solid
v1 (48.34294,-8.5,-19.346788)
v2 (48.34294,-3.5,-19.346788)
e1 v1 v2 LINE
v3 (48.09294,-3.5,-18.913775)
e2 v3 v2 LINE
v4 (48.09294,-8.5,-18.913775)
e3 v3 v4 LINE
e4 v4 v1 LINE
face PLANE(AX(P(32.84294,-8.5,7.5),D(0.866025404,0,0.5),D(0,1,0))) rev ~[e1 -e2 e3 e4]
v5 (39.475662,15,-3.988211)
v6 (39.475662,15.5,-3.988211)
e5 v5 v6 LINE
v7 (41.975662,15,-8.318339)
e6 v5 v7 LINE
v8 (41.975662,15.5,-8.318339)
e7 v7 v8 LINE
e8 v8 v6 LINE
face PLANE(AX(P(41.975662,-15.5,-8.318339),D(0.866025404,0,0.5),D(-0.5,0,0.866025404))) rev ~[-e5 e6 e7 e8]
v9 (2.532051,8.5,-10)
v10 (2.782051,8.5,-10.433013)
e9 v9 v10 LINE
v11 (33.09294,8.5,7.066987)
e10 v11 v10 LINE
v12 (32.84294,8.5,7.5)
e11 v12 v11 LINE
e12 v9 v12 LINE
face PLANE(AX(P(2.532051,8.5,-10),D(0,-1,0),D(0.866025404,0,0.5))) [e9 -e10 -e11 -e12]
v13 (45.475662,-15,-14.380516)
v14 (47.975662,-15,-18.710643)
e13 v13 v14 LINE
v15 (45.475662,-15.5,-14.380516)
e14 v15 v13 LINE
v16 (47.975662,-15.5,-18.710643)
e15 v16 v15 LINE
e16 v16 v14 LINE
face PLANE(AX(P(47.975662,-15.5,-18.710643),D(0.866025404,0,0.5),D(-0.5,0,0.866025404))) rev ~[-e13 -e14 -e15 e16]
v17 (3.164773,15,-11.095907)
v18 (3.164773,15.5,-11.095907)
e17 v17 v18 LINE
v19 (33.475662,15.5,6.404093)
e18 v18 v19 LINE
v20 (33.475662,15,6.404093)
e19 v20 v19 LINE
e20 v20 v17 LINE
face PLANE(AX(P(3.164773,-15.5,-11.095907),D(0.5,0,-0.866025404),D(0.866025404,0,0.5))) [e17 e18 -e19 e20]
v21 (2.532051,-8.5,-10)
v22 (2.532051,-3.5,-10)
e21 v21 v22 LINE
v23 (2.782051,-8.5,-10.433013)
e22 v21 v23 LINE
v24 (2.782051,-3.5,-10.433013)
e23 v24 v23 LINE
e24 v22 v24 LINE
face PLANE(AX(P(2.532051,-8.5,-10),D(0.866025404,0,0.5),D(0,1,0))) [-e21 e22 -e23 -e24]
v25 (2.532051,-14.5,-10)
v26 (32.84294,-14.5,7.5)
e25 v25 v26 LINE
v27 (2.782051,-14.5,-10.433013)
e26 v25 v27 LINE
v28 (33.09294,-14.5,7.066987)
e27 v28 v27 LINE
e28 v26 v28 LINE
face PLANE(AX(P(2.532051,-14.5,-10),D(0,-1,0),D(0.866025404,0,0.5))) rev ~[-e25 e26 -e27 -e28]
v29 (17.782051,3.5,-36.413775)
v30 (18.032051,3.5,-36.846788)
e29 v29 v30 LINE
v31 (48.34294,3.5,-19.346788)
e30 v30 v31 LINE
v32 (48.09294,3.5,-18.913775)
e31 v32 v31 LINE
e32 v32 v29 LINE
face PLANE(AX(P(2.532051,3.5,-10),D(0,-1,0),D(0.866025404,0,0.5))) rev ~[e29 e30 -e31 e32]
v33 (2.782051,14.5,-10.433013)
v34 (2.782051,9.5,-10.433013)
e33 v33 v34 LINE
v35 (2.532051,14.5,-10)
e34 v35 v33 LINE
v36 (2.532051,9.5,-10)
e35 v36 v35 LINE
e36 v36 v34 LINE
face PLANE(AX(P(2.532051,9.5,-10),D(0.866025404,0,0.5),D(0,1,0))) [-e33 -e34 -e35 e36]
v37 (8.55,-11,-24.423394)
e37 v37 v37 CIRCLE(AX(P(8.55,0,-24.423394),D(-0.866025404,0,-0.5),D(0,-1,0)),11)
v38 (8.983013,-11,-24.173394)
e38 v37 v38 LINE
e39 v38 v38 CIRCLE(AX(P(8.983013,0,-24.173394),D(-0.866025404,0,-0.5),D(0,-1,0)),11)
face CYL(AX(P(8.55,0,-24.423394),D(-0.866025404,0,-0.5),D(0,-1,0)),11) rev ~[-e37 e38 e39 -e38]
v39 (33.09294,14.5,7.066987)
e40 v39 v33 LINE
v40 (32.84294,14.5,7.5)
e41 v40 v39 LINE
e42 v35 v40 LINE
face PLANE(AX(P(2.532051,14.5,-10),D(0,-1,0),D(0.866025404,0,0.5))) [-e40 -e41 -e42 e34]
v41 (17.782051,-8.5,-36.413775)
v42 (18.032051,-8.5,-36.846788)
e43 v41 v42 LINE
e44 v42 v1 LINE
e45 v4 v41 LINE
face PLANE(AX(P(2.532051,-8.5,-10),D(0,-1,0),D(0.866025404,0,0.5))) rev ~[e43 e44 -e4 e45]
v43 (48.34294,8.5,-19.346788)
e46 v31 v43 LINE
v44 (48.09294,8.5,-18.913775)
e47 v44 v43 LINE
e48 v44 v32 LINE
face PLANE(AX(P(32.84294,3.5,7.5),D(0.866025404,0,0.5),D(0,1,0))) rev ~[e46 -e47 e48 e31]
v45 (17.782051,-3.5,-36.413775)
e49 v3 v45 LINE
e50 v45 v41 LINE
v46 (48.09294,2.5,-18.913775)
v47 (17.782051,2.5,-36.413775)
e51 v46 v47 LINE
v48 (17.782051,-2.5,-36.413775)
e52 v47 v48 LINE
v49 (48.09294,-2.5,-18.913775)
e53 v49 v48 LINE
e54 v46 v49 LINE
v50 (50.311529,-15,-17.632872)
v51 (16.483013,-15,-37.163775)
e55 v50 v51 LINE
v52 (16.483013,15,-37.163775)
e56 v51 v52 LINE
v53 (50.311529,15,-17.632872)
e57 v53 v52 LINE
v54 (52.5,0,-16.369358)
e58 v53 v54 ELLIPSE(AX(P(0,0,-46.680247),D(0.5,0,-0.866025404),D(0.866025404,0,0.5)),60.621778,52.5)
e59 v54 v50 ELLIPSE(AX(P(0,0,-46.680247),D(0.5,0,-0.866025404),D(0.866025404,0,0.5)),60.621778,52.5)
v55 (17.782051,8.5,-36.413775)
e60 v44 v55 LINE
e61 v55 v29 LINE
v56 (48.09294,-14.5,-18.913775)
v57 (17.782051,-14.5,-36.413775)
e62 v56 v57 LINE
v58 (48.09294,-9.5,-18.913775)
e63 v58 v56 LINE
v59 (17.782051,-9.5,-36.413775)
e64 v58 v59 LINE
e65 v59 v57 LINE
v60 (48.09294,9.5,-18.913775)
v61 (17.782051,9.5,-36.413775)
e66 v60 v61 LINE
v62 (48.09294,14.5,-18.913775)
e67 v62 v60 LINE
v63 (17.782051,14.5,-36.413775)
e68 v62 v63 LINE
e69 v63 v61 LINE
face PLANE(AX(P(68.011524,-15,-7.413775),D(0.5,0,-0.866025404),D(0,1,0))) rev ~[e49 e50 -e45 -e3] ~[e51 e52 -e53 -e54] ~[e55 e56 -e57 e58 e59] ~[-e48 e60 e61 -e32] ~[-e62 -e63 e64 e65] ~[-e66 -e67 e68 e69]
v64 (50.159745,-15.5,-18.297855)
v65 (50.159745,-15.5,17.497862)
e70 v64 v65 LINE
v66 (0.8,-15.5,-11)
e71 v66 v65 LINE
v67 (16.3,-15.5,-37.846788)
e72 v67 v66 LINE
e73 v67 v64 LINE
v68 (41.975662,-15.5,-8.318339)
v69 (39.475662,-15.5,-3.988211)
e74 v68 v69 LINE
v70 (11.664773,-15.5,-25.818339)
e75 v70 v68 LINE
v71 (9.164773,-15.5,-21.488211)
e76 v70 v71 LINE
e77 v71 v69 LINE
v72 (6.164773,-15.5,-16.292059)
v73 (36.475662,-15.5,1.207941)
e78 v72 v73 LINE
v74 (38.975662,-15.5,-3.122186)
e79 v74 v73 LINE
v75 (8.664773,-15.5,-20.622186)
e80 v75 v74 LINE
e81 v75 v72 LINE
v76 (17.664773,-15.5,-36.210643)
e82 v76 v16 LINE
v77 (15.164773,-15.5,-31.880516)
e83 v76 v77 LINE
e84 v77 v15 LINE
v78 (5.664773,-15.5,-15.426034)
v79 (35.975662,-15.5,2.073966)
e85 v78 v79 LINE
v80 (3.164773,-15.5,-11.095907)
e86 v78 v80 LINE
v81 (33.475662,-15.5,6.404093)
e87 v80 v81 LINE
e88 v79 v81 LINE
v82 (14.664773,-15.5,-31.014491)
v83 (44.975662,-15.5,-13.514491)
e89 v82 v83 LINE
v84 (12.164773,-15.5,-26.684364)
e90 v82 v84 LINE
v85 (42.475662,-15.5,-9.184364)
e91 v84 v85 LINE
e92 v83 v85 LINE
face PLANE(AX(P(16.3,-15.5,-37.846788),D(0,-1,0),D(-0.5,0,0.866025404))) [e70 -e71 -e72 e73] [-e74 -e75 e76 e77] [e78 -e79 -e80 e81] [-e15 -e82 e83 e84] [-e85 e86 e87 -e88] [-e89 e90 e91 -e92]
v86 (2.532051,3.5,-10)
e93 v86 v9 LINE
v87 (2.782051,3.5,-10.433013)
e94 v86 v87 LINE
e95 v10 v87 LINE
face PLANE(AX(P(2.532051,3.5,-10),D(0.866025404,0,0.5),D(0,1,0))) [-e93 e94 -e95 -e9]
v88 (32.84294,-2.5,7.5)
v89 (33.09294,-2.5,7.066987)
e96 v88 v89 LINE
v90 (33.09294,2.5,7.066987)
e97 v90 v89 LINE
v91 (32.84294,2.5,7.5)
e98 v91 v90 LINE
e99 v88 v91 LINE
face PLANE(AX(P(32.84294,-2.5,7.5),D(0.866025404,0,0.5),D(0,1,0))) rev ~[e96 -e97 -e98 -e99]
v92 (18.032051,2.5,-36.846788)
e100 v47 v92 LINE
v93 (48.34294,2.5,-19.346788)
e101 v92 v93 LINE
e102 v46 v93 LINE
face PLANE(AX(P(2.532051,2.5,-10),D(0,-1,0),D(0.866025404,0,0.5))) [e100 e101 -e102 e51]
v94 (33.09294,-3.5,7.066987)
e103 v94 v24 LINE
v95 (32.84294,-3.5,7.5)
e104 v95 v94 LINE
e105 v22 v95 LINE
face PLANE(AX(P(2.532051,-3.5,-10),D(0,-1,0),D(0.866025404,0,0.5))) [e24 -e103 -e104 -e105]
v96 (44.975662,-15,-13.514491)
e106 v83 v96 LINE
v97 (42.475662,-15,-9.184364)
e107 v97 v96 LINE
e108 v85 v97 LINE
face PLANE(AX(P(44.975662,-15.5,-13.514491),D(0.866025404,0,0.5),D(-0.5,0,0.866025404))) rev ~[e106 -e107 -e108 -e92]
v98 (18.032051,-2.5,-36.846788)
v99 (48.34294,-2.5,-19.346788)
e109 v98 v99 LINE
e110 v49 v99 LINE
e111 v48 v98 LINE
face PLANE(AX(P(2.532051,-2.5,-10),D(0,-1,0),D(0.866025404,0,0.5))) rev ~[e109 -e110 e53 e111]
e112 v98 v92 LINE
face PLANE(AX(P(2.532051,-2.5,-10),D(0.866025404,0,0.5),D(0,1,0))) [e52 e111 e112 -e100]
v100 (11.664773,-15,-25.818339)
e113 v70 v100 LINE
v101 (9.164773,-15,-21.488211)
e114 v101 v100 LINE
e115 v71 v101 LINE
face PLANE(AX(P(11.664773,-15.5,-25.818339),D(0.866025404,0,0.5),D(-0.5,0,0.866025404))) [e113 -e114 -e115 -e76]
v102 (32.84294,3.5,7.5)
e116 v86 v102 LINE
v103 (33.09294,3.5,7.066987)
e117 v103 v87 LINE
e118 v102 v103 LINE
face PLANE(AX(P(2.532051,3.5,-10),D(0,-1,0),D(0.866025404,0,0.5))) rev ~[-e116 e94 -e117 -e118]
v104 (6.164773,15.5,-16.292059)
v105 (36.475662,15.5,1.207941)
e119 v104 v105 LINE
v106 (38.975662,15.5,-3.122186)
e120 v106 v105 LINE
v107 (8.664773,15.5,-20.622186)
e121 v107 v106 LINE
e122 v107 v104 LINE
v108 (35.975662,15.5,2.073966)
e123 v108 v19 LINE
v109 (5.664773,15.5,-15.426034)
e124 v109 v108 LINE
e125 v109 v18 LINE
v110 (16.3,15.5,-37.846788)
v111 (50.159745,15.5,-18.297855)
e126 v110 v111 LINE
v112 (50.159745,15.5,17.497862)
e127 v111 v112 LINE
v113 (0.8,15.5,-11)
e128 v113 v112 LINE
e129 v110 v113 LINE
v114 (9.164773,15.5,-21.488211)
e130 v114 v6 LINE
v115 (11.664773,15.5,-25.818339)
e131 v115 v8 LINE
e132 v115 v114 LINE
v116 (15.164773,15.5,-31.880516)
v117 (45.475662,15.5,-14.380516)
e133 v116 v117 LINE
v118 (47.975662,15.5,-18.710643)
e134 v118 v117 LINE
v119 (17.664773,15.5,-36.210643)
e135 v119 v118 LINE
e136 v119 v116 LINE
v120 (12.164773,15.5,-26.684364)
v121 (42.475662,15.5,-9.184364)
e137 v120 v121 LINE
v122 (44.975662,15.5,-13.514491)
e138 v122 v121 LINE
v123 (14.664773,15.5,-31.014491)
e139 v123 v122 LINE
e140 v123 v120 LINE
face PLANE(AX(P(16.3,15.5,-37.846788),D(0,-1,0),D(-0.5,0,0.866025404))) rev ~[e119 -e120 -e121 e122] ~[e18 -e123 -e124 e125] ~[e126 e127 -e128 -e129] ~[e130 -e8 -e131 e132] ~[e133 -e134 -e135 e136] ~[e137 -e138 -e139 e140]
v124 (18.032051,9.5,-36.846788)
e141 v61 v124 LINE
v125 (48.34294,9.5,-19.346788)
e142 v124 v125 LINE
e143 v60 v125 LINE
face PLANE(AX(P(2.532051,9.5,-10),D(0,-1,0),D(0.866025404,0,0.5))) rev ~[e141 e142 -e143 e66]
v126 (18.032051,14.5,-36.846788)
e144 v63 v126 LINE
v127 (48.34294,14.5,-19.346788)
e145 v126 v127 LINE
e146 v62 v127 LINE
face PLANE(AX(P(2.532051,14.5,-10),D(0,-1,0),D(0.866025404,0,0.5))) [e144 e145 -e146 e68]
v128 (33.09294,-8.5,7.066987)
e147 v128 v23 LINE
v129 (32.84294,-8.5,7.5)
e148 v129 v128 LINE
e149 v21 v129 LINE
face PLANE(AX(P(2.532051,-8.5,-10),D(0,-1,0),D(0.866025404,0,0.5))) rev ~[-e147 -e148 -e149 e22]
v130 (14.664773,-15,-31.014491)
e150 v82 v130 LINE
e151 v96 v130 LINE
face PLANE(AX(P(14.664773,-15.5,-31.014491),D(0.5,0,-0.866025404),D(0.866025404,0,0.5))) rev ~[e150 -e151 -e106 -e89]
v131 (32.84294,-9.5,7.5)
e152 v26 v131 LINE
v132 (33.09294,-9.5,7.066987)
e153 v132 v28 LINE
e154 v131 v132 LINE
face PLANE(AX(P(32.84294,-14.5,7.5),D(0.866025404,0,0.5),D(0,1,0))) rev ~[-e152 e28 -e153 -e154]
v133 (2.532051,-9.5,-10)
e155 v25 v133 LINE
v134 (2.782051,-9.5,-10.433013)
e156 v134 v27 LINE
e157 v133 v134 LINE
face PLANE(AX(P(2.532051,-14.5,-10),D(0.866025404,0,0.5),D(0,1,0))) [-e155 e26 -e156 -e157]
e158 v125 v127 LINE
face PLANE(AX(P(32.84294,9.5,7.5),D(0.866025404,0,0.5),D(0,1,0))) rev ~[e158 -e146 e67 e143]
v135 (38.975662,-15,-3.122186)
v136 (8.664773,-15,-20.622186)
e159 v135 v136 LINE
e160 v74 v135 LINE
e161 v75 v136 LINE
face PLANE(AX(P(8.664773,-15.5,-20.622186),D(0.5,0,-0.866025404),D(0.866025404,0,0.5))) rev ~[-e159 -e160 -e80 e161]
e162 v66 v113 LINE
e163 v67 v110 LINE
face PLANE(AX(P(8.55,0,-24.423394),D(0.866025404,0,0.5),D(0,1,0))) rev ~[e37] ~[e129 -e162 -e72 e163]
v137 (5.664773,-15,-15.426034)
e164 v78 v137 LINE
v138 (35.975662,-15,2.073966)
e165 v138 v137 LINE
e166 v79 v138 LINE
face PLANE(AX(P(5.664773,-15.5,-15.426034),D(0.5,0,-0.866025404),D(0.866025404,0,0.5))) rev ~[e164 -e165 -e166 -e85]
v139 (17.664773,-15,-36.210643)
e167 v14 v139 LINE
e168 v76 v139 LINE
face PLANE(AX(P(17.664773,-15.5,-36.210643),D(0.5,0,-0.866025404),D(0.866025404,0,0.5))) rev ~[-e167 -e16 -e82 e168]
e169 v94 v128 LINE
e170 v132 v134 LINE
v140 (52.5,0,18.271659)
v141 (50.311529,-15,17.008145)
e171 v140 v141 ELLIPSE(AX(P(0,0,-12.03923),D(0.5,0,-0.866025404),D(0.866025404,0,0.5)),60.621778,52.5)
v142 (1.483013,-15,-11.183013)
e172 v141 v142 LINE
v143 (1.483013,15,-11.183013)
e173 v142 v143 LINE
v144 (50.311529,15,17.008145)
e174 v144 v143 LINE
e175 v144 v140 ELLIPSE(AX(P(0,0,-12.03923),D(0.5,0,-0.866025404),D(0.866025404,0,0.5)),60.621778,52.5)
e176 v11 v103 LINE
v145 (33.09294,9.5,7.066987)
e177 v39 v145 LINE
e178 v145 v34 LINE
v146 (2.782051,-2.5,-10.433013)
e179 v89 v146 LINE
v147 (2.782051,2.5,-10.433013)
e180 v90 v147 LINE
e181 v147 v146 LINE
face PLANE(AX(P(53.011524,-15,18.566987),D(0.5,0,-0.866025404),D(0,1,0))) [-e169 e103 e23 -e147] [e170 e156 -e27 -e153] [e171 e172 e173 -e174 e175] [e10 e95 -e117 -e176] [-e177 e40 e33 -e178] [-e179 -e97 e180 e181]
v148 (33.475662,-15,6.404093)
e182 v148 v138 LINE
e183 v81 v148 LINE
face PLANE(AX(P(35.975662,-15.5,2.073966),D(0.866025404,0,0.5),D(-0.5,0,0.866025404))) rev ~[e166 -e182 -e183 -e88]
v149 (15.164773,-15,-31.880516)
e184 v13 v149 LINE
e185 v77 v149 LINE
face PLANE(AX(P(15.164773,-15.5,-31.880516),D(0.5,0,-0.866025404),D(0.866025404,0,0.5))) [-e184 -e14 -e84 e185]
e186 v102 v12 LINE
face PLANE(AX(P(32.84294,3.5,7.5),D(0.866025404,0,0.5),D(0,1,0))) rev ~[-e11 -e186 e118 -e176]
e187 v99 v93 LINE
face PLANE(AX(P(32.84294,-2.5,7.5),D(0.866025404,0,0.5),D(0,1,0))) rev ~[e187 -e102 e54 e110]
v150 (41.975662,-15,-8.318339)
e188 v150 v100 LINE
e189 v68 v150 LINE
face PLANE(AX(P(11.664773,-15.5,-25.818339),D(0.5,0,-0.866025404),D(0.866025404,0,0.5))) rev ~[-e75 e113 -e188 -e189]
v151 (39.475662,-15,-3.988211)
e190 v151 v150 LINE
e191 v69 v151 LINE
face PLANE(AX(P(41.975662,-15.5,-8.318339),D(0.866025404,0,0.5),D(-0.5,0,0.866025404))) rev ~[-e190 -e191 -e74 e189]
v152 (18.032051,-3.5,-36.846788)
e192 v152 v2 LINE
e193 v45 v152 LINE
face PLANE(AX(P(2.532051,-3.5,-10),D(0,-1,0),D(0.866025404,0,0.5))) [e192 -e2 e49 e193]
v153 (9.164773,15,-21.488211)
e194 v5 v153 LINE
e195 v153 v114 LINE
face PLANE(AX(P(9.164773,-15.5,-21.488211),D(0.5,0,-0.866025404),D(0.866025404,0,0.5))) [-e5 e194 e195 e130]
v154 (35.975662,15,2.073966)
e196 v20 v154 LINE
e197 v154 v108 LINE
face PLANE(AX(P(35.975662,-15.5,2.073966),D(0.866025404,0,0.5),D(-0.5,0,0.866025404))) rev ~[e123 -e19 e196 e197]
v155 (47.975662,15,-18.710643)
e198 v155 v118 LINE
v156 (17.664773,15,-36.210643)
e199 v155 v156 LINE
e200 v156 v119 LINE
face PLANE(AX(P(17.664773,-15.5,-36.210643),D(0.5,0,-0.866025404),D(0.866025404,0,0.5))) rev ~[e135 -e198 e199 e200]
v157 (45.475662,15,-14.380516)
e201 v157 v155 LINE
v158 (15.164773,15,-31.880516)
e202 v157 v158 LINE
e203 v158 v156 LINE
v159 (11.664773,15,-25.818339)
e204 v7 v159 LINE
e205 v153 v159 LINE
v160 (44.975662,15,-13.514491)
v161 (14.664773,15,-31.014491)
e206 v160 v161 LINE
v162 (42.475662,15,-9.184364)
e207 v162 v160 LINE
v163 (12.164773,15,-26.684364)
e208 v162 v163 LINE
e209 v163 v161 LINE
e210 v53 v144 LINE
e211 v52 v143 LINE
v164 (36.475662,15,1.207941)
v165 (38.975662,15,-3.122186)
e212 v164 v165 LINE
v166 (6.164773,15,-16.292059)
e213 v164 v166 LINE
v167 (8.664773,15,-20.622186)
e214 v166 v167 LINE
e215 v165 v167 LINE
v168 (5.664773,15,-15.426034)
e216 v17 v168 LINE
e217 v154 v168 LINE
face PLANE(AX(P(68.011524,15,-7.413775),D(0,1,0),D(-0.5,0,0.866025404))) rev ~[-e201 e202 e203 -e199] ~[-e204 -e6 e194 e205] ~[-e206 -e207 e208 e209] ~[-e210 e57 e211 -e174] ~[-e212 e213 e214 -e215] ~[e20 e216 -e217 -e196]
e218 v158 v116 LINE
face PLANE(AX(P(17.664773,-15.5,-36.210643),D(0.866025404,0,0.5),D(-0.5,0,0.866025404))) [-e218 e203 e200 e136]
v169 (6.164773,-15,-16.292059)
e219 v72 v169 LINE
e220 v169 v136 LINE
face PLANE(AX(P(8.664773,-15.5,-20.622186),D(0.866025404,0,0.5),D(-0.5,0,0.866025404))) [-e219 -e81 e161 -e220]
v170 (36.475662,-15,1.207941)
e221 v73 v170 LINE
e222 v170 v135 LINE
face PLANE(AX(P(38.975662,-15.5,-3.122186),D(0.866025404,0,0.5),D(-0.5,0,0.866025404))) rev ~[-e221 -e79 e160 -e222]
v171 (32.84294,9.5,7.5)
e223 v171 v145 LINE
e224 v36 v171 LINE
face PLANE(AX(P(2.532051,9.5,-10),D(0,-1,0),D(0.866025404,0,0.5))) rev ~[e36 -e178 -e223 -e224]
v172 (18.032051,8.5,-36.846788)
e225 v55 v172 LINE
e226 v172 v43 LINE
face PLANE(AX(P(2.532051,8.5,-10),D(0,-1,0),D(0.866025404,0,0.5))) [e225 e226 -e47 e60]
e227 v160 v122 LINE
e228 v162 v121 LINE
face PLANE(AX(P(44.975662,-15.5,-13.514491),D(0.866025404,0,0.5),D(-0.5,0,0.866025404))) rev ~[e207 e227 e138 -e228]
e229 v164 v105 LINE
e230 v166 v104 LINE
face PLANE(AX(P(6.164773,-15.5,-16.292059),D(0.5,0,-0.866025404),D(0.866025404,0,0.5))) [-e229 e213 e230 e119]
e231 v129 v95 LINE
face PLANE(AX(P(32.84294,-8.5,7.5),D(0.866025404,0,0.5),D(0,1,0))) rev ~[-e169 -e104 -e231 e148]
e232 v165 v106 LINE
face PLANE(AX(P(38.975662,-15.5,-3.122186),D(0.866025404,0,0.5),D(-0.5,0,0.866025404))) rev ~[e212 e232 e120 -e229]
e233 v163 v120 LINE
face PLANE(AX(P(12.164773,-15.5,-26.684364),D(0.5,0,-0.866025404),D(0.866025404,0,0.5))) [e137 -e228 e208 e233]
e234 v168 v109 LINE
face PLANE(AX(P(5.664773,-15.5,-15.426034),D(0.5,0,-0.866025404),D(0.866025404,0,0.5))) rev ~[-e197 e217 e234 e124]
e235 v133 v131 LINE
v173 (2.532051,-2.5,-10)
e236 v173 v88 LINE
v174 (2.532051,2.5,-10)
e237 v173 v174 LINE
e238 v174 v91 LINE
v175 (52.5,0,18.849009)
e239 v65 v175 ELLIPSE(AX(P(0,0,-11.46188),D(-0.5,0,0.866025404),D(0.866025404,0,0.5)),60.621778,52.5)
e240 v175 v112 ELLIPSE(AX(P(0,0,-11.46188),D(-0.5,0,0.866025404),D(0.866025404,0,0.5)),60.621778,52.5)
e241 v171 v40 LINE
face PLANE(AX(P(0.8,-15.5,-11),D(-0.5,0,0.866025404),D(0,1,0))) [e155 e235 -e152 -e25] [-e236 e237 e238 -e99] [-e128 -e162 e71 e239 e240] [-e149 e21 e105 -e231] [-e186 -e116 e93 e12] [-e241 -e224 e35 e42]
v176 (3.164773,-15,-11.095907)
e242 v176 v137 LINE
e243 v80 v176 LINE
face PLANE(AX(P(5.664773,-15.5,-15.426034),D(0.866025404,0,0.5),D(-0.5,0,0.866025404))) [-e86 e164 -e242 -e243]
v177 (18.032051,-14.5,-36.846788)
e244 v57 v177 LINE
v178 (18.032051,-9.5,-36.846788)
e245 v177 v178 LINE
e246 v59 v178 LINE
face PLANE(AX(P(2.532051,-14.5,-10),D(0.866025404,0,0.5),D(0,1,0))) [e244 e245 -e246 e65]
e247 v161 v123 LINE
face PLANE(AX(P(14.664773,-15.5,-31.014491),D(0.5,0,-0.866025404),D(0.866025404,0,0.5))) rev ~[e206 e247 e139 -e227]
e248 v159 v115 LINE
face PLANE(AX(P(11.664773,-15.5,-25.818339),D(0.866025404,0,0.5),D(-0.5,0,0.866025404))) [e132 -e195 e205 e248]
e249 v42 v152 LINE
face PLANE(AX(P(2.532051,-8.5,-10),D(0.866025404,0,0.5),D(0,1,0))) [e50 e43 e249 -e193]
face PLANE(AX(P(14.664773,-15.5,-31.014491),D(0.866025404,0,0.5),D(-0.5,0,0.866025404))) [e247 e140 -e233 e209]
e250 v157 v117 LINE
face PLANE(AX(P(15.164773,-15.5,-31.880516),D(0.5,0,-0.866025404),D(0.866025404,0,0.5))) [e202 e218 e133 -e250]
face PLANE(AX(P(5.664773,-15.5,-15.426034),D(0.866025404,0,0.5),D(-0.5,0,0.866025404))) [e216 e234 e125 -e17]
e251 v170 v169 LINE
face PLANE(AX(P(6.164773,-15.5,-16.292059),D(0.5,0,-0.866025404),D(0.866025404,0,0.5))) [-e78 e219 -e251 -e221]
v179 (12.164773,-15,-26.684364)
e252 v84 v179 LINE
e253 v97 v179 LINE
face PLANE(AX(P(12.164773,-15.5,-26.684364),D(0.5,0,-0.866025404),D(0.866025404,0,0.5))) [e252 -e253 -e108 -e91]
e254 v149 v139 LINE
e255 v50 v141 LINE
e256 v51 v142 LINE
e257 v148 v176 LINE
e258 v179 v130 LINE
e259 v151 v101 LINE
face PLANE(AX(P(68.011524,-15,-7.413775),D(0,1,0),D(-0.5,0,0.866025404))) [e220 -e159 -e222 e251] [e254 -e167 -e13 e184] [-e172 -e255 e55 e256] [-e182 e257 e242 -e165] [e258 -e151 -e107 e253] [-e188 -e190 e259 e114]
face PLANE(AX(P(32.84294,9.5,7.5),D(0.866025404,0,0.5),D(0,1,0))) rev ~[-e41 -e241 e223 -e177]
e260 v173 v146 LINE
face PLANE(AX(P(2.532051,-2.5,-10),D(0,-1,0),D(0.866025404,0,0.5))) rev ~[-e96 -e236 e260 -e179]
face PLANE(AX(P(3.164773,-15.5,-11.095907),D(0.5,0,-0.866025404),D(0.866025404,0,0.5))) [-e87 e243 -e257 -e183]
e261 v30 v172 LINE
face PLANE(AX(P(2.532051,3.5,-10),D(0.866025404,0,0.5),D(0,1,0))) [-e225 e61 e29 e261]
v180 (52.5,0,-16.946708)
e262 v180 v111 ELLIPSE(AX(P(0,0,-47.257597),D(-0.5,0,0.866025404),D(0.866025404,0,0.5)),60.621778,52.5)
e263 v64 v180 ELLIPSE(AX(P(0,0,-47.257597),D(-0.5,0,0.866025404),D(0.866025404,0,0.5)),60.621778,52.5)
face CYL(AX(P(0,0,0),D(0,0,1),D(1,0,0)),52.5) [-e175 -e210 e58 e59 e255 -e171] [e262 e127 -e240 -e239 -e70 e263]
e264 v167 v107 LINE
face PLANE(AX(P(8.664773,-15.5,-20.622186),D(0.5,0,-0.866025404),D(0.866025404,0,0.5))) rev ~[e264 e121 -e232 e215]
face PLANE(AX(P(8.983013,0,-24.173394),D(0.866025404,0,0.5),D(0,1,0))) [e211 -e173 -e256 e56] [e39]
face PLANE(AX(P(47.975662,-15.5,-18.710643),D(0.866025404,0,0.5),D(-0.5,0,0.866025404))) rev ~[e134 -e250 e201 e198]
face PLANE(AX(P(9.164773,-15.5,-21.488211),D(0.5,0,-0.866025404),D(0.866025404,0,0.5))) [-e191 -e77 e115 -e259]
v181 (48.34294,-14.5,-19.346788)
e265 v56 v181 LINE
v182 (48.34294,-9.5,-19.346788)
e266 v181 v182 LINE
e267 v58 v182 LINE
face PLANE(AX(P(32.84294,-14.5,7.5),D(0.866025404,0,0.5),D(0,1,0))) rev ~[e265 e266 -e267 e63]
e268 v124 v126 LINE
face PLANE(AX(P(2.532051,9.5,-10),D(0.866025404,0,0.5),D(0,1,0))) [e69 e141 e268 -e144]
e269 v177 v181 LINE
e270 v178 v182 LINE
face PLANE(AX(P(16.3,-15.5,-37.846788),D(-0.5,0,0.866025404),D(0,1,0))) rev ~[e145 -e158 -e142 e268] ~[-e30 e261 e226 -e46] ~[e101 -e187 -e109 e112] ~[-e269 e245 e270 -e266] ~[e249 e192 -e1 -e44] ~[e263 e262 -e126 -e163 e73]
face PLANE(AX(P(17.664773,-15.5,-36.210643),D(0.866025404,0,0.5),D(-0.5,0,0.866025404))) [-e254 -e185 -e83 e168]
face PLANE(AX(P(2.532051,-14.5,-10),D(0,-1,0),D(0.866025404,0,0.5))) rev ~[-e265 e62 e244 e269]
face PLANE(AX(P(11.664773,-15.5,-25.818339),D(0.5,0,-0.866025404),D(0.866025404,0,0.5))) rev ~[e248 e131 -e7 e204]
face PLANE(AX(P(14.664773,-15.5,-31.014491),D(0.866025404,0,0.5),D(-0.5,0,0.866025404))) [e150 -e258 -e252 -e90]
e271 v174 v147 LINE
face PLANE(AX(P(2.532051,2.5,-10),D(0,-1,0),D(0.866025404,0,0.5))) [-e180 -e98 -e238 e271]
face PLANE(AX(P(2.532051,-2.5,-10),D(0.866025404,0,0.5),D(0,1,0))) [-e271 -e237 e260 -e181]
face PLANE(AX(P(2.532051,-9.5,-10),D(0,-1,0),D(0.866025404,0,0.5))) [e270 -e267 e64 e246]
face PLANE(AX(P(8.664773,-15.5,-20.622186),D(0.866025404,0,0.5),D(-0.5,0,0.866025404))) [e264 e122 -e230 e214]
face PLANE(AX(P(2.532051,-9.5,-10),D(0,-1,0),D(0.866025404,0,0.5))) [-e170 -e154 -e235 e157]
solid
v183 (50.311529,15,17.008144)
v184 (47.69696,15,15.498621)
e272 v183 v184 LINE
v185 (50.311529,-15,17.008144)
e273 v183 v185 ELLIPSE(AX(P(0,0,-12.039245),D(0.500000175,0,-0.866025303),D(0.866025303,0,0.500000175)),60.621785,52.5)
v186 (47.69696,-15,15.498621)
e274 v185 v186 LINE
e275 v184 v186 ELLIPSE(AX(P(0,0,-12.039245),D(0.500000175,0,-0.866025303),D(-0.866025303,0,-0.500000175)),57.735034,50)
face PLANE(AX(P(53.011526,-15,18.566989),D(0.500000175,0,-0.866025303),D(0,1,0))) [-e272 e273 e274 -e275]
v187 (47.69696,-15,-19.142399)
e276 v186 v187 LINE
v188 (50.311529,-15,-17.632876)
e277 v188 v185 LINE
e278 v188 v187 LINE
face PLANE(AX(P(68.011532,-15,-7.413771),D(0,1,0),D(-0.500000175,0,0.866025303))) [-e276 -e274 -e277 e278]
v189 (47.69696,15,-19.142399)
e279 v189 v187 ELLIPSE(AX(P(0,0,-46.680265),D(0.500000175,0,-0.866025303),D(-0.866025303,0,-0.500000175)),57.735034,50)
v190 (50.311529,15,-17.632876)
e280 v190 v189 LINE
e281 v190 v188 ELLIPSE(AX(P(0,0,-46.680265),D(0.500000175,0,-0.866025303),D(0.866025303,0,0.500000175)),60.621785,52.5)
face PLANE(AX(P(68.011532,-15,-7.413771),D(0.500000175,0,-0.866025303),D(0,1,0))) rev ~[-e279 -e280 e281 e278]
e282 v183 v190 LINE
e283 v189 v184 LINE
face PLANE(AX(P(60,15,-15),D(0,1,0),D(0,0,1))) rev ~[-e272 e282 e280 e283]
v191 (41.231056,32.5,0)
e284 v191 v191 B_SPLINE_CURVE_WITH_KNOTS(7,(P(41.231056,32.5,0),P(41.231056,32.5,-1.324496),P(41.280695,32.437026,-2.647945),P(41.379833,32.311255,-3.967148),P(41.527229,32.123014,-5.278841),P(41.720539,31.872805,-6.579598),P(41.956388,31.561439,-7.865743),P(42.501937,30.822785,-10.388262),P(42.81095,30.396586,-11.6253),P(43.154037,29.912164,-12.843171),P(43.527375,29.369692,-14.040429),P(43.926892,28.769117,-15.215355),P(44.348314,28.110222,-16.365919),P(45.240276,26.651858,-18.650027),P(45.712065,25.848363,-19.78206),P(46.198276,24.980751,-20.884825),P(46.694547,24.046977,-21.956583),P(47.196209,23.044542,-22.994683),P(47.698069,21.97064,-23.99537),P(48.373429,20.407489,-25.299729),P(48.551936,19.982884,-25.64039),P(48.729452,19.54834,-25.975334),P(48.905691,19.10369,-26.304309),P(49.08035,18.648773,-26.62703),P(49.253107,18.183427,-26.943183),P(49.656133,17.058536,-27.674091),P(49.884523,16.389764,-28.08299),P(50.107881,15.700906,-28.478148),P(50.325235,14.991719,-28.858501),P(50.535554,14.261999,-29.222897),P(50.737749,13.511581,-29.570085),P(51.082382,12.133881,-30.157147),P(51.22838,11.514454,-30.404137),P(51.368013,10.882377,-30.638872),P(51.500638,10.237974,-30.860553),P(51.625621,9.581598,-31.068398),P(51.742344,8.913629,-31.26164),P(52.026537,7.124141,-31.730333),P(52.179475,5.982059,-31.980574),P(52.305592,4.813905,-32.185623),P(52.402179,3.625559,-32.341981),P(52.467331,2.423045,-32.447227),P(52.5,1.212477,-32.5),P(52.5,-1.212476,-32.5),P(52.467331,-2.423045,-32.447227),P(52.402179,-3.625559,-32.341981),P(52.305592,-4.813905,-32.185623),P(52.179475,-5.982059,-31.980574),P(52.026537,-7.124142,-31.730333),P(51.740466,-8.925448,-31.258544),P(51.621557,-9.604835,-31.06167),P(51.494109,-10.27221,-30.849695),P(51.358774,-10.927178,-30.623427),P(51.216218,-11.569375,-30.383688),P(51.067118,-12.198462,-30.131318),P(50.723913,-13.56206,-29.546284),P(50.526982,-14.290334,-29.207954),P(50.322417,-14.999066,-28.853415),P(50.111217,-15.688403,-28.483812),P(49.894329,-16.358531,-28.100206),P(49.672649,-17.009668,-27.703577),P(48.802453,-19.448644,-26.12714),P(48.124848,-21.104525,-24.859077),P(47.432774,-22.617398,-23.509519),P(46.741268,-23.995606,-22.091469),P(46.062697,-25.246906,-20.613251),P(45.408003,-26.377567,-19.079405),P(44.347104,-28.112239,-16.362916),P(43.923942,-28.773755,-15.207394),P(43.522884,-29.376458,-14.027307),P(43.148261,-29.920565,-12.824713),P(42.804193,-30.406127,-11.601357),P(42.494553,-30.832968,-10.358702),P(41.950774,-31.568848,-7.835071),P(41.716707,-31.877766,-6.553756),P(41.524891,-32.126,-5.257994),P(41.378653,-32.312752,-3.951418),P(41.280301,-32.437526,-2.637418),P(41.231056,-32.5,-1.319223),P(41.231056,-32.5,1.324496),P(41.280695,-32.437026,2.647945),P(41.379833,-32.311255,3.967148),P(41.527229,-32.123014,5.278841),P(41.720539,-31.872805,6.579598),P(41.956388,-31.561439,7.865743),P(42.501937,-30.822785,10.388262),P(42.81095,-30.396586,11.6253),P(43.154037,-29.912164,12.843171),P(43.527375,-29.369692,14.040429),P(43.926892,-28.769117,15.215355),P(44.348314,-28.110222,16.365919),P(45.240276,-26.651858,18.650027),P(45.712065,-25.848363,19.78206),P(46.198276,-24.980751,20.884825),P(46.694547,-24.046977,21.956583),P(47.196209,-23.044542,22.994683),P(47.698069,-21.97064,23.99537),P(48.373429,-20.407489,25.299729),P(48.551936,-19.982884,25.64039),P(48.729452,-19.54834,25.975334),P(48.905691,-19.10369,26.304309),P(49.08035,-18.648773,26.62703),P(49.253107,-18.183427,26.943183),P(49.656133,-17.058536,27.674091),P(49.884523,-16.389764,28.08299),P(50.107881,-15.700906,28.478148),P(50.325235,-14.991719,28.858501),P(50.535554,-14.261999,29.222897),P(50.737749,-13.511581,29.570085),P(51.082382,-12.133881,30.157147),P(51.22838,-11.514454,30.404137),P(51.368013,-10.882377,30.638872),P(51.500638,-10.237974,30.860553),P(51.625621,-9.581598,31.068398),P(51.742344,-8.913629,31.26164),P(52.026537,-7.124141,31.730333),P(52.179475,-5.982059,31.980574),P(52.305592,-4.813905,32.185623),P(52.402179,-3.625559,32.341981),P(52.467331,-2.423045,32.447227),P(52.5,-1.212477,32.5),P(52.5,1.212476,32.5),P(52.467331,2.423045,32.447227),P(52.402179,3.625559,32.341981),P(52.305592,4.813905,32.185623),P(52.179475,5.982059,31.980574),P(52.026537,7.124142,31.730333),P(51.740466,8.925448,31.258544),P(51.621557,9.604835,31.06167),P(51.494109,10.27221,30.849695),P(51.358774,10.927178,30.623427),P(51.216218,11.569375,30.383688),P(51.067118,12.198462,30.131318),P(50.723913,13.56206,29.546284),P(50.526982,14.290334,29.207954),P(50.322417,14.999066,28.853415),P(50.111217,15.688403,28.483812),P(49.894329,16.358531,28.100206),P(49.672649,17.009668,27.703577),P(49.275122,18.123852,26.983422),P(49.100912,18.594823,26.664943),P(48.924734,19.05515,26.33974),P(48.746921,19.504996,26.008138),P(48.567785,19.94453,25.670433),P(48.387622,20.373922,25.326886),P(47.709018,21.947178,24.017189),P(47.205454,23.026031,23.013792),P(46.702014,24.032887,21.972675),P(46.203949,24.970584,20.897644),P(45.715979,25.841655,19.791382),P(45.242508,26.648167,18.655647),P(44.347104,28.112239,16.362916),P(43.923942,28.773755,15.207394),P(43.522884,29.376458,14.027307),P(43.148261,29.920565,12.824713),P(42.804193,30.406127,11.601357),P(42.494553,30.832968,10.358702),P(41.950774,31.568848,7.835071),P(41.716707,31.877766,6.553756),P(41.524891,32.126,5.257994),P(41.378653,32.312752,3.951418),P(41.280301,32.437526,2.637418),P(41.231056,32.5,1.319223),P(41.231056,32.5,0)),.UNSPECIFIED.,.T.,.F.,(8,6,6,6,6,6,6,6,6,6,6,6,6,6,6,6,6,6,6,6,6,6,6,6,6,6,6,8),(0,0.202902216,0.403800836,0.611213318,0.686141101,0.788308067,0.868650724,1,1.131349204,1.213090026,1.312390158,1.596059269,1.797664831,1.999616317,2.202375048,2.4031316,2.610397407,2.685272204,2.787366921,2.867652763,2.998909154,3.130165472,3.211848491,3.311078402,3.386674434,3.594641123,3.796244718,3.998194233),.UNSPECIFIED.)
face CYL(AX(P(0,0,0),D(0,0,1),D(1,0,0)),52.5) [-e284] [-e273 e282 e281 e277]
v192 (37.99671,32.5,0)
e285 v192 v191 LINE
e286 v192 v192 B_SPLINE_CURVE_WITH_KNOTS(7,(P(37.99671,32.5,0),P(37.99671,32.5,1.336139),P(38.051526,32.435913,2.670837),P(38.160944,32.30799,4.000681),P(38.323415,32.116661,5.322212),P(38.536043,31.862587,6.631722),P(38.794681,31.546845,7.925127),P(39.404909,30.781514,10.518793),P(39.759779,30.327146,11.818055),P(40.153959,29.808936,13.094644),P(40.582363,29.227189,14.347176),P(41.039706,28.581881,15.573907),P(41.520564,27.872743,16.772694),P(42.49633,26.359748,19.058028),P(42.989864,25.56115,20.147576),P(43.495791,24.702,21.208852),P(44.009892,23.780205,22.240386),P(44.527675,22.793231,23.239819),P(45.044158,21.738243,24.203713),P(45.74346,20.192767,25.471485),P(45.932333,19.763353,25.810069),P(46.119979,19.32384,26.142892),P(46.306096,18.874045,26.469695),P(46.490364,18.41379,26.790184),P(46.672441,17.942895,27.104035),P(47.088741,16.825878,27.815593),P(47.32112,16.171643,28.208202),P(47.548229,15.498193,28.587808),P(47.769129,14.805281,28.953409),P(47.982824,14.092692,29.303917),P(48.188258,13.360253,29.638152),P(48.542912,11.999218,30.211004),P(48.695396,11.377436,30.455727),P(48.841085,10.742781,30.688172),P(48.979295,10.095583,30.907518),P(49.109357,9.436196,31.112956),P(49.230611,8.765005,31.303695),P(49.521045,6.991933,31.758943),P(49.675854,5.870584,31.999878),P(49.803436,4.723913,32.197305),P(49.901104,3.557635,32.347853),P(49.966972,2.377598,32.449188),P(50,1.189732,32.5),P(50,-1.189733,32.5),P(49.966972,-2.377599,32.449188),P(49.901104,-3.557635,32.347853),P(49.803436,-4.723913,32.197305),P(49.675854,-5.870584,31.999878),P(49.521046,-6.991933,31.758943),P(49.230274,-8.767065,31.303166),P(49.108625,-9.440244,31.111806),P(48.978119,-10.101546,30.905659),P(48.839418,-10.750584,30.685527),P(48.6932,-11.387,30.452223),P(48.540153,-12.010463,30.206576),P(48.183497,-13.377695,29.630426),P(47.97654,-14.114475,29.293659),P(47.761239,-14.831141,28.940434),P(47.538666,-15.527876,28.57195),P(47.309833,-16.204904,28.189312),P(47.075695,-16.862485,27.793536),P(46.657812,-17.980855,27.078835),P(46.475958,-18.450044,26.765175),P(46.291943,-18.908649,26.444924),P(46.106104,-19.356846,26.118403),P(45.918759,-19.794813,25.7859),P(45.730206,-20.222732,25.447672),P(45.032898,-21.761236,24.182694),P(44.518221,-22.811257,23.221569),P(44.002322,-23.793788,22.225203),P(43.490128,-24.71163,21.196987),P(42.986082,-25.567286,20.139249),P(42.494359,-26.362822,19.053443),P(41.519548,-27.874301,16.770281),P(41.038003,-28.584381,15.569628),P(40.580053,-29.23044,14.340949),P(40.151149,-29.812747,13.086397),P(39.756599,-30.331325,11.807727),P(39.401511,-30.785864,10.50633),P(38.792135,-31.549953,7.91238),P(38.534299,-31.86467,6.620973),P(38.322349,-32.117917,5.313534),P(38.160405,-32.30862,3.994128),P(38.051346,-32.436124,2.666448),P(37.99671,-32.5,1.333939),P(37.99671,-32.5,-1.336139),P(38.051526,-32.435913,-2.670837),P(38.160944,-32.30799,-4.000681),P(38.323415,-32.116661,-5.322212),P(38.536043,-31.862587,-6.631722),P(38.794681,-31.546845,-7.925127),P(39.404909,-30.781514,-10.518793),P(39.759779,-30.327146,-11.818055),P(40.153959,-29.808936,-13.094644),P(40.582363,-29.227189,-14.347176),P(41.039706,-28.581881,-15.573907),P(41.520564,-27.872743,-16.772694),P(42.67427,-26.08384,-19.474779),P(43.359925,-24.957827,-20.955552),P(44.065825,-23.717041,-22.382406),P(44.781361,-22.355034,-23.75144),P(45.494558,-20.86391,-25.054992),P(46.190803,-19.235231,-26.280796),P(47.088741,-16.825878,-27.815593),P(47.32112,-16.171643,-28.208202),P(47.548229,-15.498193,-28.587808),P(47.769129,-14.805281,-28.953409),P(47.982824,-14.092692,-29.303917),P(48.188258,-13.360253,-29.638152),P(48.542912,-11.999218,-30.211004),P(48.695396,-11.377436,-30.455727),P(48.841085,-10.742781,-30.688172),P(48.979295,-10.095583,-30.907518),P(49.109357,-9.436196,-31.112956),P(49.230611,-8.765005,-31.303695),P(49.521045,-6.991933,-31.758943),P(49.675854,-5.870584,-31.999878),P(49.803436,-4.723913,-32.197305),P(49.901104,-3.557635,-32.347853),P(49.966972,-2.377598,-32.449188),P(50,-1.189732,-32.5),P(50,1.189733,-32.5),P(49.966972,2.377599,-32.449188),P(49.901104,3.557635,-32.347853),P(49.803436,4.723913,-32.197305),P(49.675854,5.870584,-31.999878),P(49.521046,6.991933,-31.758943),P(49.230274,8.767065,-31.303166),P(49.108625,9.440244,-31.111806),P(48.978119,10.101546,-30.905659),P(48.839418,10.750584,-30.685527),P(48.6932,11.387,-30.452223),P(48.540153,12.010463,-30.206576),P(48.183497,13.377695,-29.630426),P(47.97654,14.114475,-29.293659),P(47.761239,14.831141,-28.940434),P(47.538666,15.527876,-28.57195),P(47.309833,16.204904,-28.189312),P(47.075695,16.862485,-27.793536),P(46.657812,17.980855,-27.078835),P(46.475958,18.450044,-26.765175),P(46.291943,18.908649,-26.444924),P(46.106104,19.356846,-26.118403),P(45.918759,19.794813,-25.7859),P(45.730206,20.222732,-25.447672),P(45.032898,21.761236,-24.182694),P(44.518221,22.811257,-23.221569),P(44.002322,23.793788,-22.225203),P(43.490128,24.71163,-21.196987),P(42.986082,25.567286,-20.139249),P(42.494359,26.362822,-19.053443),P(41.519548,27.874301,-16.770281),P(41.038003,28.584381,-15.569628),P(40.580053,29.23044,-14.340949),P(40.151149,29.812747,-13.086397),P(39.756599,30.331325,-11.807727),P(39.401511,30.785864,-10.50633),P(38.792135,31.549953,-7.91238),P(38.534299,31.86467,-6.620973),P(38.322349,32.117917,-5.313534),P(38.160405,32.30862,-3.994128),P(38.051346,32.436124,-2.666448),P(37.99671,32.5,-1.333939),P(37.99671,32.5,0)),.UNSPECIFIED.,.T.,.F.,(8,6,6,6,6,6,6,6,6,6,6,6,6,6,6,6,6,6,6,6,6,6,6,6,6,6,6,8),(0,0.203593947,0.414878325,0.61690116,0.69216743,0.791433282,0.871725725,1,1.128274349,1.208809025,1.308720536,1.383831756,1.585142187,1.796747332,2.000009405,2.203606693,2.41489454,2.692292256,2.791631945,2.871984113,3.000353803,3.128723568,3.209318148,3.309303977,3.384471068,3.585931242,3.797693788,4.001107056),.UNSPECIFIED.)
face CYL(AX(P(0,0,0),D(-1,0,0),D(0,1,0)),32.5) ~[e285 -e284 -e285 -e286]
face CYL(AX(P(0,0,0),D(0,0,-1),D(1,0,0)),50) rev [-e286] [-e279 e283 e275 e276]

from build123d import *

# Parameters (mm, degrees)
F0_R      = 52.5
F0_R_2    = 50
F1_DEPTH  = 50
F2_R      = 32.5
F3_DEPTH  = 60
F4_W      = 31
F4_H      = 31
F6_DEPTH  = 60
F7_W      = 30
F7_H      = 30
F8_DEPTH  = 59.5
F9_W      = 35
F9_H      = 5
F10_DEPTH = 50
F11_W     = 35
F11_H     = 5
F12_DEPTH = 50
F13_R     = 11
F14_DEPTH = 25
F15_ANGLE = 30
F17_W     = 30
F17_H     = 30
F18_DEPTH = 25
F19_R     = 52.5
F20_DEPTH = 50


with BuildPart() as f1:
    # F0 (on Top) → F1 (new body, symmetric)
    with BuildSketch(Plane.XY):
        Circle(F0_R)
        Circle(F0_R_2, mode=Mode.SUBTRACT)
    extrude(amount=F1_DEPTH, both=True)


with BuildPart() as f3:
    # F2 (on Right) → F3 (new body)
    with BuildSketch(Plane.YZ):
        Circle(F2_R)
    extrude(amount=F3_DEPTH)

    # F5: intersect F1
    add(f1.part, mode=Mode.INTERSECT)


with BuildPart() as f6:
    # F4 (on Right) → F6 (new body)
    with BuildSketch(Plane.YZ):
        Rectangle(F4_W, F4_H)
    extrude(amount=F6_DEPTH)


with BuildPart() as f8_tool:
    # F7 (on face) → F8 (new body)
    with BuildSketch(Plane.YZ.offset(60)):
        Rectangle(F7_W, F7_H)
    extrude(amount=-F8_DEPTH)


with BuildPart() as f3_1:
    add(f3.part)

    # F8: cut by f8_tool
    add(f8_tool.part, mode=Mode.SUBTRACT)

    # F17 (on face) → F18 (cut)
    with BuildSketch(Plane(origin=(47.798385, 0, 27.59641), x_dir=(0, 1, 0), z_dir=(0.866025, 0, 0.5))):
        with Locations((0, -25.426279)):
            Rectangle(F17_W, F17_H)
    extrude(amount=-F18_DEPTH, mode=Mode.SUBTRACT)


with BuildPart() as f6_1:
    add(f6.part)

    # F8: cut by f8_tool
    add(f8_tool.part, mode=Mode.SUBTRACT)

    # F9 (on face) → F10 (cut)
    with BuildSketch(Plane.XY.offset(15.5)):
        with Locations((19.5, -12)):
            Rectangle(F9_W, F9_H)
        with Locations((19.5, -6)):
            Rectangle(F9_W, F9_H)
        with Locations((19.5, 0)):
            Rectangle(F9_W, F9_H)
        with Locations((19.5, 6)):
            Rectangle(F9_W, F9_H)
        with Locations((19.5, 12)):
            Rectangle(F9_W, F9_H)
    extrude(amount=-F10_DEPTH, mode=Mode.SUBTRACT)

    # F11 (on face) → F12 (cut)
    with BuildSketch(Plane.XZ.offset(15.5)):
        with Locations((19.5, 11.734556)):
            Rectangle(F11_W, F11_H)
        with Locations((19.5, 5.734556)):
            Rectangle(F11_W, F11_H)
        with Locations((19.5, -0.265444)):
            Rectangle(F11_W, F11_H)
        with Locations((19.5, -6.265444)):
            Rectangle(F11_W, F11_H)
        with Locations((19.5, -12.265444)):
            Rectangle(F11_W, F11_H)
    extrude(amount=-F12_DEPTH, mode=Mode.SUBTRACT)

    # F13 (on face) → F14 (cut)
    with BuildSketch(Plane(origin=(0, 0, 0), x_dir=(0, -1, 0), z_dir=(-1, 0, 0))):
        Circle(F13_R)
    extrude(amount=-F14_DEPTH, mode=Mode.SUBTRACT)


with BuildPart() as f6_2:
    # F15: moved
    add(f6_1.part.rotate(Axis((0, 0, 15.5), (0, -1, 0)), F15_ANGLE))


with BuildPart() as f6_3:
    # F16: moved
    add(f6_2.part.moved(Location((0.8, 0, -26.5))))


with BuildPart() as f20:
    # F19 (on Top) → F20 (new body, symmetric)
    with BuildSketch(Plane.XY):
        Circle(F19_R)
    extrude(amount=F20_DEPTH, both=True)


with BuildPart() as f6_4:
    add(f6_3.part)

    # F21: intersect F20
    add(f20.part, mode=Mode.INTERSECT)


solid = Compound([f3_1.part, f6_4.part])
